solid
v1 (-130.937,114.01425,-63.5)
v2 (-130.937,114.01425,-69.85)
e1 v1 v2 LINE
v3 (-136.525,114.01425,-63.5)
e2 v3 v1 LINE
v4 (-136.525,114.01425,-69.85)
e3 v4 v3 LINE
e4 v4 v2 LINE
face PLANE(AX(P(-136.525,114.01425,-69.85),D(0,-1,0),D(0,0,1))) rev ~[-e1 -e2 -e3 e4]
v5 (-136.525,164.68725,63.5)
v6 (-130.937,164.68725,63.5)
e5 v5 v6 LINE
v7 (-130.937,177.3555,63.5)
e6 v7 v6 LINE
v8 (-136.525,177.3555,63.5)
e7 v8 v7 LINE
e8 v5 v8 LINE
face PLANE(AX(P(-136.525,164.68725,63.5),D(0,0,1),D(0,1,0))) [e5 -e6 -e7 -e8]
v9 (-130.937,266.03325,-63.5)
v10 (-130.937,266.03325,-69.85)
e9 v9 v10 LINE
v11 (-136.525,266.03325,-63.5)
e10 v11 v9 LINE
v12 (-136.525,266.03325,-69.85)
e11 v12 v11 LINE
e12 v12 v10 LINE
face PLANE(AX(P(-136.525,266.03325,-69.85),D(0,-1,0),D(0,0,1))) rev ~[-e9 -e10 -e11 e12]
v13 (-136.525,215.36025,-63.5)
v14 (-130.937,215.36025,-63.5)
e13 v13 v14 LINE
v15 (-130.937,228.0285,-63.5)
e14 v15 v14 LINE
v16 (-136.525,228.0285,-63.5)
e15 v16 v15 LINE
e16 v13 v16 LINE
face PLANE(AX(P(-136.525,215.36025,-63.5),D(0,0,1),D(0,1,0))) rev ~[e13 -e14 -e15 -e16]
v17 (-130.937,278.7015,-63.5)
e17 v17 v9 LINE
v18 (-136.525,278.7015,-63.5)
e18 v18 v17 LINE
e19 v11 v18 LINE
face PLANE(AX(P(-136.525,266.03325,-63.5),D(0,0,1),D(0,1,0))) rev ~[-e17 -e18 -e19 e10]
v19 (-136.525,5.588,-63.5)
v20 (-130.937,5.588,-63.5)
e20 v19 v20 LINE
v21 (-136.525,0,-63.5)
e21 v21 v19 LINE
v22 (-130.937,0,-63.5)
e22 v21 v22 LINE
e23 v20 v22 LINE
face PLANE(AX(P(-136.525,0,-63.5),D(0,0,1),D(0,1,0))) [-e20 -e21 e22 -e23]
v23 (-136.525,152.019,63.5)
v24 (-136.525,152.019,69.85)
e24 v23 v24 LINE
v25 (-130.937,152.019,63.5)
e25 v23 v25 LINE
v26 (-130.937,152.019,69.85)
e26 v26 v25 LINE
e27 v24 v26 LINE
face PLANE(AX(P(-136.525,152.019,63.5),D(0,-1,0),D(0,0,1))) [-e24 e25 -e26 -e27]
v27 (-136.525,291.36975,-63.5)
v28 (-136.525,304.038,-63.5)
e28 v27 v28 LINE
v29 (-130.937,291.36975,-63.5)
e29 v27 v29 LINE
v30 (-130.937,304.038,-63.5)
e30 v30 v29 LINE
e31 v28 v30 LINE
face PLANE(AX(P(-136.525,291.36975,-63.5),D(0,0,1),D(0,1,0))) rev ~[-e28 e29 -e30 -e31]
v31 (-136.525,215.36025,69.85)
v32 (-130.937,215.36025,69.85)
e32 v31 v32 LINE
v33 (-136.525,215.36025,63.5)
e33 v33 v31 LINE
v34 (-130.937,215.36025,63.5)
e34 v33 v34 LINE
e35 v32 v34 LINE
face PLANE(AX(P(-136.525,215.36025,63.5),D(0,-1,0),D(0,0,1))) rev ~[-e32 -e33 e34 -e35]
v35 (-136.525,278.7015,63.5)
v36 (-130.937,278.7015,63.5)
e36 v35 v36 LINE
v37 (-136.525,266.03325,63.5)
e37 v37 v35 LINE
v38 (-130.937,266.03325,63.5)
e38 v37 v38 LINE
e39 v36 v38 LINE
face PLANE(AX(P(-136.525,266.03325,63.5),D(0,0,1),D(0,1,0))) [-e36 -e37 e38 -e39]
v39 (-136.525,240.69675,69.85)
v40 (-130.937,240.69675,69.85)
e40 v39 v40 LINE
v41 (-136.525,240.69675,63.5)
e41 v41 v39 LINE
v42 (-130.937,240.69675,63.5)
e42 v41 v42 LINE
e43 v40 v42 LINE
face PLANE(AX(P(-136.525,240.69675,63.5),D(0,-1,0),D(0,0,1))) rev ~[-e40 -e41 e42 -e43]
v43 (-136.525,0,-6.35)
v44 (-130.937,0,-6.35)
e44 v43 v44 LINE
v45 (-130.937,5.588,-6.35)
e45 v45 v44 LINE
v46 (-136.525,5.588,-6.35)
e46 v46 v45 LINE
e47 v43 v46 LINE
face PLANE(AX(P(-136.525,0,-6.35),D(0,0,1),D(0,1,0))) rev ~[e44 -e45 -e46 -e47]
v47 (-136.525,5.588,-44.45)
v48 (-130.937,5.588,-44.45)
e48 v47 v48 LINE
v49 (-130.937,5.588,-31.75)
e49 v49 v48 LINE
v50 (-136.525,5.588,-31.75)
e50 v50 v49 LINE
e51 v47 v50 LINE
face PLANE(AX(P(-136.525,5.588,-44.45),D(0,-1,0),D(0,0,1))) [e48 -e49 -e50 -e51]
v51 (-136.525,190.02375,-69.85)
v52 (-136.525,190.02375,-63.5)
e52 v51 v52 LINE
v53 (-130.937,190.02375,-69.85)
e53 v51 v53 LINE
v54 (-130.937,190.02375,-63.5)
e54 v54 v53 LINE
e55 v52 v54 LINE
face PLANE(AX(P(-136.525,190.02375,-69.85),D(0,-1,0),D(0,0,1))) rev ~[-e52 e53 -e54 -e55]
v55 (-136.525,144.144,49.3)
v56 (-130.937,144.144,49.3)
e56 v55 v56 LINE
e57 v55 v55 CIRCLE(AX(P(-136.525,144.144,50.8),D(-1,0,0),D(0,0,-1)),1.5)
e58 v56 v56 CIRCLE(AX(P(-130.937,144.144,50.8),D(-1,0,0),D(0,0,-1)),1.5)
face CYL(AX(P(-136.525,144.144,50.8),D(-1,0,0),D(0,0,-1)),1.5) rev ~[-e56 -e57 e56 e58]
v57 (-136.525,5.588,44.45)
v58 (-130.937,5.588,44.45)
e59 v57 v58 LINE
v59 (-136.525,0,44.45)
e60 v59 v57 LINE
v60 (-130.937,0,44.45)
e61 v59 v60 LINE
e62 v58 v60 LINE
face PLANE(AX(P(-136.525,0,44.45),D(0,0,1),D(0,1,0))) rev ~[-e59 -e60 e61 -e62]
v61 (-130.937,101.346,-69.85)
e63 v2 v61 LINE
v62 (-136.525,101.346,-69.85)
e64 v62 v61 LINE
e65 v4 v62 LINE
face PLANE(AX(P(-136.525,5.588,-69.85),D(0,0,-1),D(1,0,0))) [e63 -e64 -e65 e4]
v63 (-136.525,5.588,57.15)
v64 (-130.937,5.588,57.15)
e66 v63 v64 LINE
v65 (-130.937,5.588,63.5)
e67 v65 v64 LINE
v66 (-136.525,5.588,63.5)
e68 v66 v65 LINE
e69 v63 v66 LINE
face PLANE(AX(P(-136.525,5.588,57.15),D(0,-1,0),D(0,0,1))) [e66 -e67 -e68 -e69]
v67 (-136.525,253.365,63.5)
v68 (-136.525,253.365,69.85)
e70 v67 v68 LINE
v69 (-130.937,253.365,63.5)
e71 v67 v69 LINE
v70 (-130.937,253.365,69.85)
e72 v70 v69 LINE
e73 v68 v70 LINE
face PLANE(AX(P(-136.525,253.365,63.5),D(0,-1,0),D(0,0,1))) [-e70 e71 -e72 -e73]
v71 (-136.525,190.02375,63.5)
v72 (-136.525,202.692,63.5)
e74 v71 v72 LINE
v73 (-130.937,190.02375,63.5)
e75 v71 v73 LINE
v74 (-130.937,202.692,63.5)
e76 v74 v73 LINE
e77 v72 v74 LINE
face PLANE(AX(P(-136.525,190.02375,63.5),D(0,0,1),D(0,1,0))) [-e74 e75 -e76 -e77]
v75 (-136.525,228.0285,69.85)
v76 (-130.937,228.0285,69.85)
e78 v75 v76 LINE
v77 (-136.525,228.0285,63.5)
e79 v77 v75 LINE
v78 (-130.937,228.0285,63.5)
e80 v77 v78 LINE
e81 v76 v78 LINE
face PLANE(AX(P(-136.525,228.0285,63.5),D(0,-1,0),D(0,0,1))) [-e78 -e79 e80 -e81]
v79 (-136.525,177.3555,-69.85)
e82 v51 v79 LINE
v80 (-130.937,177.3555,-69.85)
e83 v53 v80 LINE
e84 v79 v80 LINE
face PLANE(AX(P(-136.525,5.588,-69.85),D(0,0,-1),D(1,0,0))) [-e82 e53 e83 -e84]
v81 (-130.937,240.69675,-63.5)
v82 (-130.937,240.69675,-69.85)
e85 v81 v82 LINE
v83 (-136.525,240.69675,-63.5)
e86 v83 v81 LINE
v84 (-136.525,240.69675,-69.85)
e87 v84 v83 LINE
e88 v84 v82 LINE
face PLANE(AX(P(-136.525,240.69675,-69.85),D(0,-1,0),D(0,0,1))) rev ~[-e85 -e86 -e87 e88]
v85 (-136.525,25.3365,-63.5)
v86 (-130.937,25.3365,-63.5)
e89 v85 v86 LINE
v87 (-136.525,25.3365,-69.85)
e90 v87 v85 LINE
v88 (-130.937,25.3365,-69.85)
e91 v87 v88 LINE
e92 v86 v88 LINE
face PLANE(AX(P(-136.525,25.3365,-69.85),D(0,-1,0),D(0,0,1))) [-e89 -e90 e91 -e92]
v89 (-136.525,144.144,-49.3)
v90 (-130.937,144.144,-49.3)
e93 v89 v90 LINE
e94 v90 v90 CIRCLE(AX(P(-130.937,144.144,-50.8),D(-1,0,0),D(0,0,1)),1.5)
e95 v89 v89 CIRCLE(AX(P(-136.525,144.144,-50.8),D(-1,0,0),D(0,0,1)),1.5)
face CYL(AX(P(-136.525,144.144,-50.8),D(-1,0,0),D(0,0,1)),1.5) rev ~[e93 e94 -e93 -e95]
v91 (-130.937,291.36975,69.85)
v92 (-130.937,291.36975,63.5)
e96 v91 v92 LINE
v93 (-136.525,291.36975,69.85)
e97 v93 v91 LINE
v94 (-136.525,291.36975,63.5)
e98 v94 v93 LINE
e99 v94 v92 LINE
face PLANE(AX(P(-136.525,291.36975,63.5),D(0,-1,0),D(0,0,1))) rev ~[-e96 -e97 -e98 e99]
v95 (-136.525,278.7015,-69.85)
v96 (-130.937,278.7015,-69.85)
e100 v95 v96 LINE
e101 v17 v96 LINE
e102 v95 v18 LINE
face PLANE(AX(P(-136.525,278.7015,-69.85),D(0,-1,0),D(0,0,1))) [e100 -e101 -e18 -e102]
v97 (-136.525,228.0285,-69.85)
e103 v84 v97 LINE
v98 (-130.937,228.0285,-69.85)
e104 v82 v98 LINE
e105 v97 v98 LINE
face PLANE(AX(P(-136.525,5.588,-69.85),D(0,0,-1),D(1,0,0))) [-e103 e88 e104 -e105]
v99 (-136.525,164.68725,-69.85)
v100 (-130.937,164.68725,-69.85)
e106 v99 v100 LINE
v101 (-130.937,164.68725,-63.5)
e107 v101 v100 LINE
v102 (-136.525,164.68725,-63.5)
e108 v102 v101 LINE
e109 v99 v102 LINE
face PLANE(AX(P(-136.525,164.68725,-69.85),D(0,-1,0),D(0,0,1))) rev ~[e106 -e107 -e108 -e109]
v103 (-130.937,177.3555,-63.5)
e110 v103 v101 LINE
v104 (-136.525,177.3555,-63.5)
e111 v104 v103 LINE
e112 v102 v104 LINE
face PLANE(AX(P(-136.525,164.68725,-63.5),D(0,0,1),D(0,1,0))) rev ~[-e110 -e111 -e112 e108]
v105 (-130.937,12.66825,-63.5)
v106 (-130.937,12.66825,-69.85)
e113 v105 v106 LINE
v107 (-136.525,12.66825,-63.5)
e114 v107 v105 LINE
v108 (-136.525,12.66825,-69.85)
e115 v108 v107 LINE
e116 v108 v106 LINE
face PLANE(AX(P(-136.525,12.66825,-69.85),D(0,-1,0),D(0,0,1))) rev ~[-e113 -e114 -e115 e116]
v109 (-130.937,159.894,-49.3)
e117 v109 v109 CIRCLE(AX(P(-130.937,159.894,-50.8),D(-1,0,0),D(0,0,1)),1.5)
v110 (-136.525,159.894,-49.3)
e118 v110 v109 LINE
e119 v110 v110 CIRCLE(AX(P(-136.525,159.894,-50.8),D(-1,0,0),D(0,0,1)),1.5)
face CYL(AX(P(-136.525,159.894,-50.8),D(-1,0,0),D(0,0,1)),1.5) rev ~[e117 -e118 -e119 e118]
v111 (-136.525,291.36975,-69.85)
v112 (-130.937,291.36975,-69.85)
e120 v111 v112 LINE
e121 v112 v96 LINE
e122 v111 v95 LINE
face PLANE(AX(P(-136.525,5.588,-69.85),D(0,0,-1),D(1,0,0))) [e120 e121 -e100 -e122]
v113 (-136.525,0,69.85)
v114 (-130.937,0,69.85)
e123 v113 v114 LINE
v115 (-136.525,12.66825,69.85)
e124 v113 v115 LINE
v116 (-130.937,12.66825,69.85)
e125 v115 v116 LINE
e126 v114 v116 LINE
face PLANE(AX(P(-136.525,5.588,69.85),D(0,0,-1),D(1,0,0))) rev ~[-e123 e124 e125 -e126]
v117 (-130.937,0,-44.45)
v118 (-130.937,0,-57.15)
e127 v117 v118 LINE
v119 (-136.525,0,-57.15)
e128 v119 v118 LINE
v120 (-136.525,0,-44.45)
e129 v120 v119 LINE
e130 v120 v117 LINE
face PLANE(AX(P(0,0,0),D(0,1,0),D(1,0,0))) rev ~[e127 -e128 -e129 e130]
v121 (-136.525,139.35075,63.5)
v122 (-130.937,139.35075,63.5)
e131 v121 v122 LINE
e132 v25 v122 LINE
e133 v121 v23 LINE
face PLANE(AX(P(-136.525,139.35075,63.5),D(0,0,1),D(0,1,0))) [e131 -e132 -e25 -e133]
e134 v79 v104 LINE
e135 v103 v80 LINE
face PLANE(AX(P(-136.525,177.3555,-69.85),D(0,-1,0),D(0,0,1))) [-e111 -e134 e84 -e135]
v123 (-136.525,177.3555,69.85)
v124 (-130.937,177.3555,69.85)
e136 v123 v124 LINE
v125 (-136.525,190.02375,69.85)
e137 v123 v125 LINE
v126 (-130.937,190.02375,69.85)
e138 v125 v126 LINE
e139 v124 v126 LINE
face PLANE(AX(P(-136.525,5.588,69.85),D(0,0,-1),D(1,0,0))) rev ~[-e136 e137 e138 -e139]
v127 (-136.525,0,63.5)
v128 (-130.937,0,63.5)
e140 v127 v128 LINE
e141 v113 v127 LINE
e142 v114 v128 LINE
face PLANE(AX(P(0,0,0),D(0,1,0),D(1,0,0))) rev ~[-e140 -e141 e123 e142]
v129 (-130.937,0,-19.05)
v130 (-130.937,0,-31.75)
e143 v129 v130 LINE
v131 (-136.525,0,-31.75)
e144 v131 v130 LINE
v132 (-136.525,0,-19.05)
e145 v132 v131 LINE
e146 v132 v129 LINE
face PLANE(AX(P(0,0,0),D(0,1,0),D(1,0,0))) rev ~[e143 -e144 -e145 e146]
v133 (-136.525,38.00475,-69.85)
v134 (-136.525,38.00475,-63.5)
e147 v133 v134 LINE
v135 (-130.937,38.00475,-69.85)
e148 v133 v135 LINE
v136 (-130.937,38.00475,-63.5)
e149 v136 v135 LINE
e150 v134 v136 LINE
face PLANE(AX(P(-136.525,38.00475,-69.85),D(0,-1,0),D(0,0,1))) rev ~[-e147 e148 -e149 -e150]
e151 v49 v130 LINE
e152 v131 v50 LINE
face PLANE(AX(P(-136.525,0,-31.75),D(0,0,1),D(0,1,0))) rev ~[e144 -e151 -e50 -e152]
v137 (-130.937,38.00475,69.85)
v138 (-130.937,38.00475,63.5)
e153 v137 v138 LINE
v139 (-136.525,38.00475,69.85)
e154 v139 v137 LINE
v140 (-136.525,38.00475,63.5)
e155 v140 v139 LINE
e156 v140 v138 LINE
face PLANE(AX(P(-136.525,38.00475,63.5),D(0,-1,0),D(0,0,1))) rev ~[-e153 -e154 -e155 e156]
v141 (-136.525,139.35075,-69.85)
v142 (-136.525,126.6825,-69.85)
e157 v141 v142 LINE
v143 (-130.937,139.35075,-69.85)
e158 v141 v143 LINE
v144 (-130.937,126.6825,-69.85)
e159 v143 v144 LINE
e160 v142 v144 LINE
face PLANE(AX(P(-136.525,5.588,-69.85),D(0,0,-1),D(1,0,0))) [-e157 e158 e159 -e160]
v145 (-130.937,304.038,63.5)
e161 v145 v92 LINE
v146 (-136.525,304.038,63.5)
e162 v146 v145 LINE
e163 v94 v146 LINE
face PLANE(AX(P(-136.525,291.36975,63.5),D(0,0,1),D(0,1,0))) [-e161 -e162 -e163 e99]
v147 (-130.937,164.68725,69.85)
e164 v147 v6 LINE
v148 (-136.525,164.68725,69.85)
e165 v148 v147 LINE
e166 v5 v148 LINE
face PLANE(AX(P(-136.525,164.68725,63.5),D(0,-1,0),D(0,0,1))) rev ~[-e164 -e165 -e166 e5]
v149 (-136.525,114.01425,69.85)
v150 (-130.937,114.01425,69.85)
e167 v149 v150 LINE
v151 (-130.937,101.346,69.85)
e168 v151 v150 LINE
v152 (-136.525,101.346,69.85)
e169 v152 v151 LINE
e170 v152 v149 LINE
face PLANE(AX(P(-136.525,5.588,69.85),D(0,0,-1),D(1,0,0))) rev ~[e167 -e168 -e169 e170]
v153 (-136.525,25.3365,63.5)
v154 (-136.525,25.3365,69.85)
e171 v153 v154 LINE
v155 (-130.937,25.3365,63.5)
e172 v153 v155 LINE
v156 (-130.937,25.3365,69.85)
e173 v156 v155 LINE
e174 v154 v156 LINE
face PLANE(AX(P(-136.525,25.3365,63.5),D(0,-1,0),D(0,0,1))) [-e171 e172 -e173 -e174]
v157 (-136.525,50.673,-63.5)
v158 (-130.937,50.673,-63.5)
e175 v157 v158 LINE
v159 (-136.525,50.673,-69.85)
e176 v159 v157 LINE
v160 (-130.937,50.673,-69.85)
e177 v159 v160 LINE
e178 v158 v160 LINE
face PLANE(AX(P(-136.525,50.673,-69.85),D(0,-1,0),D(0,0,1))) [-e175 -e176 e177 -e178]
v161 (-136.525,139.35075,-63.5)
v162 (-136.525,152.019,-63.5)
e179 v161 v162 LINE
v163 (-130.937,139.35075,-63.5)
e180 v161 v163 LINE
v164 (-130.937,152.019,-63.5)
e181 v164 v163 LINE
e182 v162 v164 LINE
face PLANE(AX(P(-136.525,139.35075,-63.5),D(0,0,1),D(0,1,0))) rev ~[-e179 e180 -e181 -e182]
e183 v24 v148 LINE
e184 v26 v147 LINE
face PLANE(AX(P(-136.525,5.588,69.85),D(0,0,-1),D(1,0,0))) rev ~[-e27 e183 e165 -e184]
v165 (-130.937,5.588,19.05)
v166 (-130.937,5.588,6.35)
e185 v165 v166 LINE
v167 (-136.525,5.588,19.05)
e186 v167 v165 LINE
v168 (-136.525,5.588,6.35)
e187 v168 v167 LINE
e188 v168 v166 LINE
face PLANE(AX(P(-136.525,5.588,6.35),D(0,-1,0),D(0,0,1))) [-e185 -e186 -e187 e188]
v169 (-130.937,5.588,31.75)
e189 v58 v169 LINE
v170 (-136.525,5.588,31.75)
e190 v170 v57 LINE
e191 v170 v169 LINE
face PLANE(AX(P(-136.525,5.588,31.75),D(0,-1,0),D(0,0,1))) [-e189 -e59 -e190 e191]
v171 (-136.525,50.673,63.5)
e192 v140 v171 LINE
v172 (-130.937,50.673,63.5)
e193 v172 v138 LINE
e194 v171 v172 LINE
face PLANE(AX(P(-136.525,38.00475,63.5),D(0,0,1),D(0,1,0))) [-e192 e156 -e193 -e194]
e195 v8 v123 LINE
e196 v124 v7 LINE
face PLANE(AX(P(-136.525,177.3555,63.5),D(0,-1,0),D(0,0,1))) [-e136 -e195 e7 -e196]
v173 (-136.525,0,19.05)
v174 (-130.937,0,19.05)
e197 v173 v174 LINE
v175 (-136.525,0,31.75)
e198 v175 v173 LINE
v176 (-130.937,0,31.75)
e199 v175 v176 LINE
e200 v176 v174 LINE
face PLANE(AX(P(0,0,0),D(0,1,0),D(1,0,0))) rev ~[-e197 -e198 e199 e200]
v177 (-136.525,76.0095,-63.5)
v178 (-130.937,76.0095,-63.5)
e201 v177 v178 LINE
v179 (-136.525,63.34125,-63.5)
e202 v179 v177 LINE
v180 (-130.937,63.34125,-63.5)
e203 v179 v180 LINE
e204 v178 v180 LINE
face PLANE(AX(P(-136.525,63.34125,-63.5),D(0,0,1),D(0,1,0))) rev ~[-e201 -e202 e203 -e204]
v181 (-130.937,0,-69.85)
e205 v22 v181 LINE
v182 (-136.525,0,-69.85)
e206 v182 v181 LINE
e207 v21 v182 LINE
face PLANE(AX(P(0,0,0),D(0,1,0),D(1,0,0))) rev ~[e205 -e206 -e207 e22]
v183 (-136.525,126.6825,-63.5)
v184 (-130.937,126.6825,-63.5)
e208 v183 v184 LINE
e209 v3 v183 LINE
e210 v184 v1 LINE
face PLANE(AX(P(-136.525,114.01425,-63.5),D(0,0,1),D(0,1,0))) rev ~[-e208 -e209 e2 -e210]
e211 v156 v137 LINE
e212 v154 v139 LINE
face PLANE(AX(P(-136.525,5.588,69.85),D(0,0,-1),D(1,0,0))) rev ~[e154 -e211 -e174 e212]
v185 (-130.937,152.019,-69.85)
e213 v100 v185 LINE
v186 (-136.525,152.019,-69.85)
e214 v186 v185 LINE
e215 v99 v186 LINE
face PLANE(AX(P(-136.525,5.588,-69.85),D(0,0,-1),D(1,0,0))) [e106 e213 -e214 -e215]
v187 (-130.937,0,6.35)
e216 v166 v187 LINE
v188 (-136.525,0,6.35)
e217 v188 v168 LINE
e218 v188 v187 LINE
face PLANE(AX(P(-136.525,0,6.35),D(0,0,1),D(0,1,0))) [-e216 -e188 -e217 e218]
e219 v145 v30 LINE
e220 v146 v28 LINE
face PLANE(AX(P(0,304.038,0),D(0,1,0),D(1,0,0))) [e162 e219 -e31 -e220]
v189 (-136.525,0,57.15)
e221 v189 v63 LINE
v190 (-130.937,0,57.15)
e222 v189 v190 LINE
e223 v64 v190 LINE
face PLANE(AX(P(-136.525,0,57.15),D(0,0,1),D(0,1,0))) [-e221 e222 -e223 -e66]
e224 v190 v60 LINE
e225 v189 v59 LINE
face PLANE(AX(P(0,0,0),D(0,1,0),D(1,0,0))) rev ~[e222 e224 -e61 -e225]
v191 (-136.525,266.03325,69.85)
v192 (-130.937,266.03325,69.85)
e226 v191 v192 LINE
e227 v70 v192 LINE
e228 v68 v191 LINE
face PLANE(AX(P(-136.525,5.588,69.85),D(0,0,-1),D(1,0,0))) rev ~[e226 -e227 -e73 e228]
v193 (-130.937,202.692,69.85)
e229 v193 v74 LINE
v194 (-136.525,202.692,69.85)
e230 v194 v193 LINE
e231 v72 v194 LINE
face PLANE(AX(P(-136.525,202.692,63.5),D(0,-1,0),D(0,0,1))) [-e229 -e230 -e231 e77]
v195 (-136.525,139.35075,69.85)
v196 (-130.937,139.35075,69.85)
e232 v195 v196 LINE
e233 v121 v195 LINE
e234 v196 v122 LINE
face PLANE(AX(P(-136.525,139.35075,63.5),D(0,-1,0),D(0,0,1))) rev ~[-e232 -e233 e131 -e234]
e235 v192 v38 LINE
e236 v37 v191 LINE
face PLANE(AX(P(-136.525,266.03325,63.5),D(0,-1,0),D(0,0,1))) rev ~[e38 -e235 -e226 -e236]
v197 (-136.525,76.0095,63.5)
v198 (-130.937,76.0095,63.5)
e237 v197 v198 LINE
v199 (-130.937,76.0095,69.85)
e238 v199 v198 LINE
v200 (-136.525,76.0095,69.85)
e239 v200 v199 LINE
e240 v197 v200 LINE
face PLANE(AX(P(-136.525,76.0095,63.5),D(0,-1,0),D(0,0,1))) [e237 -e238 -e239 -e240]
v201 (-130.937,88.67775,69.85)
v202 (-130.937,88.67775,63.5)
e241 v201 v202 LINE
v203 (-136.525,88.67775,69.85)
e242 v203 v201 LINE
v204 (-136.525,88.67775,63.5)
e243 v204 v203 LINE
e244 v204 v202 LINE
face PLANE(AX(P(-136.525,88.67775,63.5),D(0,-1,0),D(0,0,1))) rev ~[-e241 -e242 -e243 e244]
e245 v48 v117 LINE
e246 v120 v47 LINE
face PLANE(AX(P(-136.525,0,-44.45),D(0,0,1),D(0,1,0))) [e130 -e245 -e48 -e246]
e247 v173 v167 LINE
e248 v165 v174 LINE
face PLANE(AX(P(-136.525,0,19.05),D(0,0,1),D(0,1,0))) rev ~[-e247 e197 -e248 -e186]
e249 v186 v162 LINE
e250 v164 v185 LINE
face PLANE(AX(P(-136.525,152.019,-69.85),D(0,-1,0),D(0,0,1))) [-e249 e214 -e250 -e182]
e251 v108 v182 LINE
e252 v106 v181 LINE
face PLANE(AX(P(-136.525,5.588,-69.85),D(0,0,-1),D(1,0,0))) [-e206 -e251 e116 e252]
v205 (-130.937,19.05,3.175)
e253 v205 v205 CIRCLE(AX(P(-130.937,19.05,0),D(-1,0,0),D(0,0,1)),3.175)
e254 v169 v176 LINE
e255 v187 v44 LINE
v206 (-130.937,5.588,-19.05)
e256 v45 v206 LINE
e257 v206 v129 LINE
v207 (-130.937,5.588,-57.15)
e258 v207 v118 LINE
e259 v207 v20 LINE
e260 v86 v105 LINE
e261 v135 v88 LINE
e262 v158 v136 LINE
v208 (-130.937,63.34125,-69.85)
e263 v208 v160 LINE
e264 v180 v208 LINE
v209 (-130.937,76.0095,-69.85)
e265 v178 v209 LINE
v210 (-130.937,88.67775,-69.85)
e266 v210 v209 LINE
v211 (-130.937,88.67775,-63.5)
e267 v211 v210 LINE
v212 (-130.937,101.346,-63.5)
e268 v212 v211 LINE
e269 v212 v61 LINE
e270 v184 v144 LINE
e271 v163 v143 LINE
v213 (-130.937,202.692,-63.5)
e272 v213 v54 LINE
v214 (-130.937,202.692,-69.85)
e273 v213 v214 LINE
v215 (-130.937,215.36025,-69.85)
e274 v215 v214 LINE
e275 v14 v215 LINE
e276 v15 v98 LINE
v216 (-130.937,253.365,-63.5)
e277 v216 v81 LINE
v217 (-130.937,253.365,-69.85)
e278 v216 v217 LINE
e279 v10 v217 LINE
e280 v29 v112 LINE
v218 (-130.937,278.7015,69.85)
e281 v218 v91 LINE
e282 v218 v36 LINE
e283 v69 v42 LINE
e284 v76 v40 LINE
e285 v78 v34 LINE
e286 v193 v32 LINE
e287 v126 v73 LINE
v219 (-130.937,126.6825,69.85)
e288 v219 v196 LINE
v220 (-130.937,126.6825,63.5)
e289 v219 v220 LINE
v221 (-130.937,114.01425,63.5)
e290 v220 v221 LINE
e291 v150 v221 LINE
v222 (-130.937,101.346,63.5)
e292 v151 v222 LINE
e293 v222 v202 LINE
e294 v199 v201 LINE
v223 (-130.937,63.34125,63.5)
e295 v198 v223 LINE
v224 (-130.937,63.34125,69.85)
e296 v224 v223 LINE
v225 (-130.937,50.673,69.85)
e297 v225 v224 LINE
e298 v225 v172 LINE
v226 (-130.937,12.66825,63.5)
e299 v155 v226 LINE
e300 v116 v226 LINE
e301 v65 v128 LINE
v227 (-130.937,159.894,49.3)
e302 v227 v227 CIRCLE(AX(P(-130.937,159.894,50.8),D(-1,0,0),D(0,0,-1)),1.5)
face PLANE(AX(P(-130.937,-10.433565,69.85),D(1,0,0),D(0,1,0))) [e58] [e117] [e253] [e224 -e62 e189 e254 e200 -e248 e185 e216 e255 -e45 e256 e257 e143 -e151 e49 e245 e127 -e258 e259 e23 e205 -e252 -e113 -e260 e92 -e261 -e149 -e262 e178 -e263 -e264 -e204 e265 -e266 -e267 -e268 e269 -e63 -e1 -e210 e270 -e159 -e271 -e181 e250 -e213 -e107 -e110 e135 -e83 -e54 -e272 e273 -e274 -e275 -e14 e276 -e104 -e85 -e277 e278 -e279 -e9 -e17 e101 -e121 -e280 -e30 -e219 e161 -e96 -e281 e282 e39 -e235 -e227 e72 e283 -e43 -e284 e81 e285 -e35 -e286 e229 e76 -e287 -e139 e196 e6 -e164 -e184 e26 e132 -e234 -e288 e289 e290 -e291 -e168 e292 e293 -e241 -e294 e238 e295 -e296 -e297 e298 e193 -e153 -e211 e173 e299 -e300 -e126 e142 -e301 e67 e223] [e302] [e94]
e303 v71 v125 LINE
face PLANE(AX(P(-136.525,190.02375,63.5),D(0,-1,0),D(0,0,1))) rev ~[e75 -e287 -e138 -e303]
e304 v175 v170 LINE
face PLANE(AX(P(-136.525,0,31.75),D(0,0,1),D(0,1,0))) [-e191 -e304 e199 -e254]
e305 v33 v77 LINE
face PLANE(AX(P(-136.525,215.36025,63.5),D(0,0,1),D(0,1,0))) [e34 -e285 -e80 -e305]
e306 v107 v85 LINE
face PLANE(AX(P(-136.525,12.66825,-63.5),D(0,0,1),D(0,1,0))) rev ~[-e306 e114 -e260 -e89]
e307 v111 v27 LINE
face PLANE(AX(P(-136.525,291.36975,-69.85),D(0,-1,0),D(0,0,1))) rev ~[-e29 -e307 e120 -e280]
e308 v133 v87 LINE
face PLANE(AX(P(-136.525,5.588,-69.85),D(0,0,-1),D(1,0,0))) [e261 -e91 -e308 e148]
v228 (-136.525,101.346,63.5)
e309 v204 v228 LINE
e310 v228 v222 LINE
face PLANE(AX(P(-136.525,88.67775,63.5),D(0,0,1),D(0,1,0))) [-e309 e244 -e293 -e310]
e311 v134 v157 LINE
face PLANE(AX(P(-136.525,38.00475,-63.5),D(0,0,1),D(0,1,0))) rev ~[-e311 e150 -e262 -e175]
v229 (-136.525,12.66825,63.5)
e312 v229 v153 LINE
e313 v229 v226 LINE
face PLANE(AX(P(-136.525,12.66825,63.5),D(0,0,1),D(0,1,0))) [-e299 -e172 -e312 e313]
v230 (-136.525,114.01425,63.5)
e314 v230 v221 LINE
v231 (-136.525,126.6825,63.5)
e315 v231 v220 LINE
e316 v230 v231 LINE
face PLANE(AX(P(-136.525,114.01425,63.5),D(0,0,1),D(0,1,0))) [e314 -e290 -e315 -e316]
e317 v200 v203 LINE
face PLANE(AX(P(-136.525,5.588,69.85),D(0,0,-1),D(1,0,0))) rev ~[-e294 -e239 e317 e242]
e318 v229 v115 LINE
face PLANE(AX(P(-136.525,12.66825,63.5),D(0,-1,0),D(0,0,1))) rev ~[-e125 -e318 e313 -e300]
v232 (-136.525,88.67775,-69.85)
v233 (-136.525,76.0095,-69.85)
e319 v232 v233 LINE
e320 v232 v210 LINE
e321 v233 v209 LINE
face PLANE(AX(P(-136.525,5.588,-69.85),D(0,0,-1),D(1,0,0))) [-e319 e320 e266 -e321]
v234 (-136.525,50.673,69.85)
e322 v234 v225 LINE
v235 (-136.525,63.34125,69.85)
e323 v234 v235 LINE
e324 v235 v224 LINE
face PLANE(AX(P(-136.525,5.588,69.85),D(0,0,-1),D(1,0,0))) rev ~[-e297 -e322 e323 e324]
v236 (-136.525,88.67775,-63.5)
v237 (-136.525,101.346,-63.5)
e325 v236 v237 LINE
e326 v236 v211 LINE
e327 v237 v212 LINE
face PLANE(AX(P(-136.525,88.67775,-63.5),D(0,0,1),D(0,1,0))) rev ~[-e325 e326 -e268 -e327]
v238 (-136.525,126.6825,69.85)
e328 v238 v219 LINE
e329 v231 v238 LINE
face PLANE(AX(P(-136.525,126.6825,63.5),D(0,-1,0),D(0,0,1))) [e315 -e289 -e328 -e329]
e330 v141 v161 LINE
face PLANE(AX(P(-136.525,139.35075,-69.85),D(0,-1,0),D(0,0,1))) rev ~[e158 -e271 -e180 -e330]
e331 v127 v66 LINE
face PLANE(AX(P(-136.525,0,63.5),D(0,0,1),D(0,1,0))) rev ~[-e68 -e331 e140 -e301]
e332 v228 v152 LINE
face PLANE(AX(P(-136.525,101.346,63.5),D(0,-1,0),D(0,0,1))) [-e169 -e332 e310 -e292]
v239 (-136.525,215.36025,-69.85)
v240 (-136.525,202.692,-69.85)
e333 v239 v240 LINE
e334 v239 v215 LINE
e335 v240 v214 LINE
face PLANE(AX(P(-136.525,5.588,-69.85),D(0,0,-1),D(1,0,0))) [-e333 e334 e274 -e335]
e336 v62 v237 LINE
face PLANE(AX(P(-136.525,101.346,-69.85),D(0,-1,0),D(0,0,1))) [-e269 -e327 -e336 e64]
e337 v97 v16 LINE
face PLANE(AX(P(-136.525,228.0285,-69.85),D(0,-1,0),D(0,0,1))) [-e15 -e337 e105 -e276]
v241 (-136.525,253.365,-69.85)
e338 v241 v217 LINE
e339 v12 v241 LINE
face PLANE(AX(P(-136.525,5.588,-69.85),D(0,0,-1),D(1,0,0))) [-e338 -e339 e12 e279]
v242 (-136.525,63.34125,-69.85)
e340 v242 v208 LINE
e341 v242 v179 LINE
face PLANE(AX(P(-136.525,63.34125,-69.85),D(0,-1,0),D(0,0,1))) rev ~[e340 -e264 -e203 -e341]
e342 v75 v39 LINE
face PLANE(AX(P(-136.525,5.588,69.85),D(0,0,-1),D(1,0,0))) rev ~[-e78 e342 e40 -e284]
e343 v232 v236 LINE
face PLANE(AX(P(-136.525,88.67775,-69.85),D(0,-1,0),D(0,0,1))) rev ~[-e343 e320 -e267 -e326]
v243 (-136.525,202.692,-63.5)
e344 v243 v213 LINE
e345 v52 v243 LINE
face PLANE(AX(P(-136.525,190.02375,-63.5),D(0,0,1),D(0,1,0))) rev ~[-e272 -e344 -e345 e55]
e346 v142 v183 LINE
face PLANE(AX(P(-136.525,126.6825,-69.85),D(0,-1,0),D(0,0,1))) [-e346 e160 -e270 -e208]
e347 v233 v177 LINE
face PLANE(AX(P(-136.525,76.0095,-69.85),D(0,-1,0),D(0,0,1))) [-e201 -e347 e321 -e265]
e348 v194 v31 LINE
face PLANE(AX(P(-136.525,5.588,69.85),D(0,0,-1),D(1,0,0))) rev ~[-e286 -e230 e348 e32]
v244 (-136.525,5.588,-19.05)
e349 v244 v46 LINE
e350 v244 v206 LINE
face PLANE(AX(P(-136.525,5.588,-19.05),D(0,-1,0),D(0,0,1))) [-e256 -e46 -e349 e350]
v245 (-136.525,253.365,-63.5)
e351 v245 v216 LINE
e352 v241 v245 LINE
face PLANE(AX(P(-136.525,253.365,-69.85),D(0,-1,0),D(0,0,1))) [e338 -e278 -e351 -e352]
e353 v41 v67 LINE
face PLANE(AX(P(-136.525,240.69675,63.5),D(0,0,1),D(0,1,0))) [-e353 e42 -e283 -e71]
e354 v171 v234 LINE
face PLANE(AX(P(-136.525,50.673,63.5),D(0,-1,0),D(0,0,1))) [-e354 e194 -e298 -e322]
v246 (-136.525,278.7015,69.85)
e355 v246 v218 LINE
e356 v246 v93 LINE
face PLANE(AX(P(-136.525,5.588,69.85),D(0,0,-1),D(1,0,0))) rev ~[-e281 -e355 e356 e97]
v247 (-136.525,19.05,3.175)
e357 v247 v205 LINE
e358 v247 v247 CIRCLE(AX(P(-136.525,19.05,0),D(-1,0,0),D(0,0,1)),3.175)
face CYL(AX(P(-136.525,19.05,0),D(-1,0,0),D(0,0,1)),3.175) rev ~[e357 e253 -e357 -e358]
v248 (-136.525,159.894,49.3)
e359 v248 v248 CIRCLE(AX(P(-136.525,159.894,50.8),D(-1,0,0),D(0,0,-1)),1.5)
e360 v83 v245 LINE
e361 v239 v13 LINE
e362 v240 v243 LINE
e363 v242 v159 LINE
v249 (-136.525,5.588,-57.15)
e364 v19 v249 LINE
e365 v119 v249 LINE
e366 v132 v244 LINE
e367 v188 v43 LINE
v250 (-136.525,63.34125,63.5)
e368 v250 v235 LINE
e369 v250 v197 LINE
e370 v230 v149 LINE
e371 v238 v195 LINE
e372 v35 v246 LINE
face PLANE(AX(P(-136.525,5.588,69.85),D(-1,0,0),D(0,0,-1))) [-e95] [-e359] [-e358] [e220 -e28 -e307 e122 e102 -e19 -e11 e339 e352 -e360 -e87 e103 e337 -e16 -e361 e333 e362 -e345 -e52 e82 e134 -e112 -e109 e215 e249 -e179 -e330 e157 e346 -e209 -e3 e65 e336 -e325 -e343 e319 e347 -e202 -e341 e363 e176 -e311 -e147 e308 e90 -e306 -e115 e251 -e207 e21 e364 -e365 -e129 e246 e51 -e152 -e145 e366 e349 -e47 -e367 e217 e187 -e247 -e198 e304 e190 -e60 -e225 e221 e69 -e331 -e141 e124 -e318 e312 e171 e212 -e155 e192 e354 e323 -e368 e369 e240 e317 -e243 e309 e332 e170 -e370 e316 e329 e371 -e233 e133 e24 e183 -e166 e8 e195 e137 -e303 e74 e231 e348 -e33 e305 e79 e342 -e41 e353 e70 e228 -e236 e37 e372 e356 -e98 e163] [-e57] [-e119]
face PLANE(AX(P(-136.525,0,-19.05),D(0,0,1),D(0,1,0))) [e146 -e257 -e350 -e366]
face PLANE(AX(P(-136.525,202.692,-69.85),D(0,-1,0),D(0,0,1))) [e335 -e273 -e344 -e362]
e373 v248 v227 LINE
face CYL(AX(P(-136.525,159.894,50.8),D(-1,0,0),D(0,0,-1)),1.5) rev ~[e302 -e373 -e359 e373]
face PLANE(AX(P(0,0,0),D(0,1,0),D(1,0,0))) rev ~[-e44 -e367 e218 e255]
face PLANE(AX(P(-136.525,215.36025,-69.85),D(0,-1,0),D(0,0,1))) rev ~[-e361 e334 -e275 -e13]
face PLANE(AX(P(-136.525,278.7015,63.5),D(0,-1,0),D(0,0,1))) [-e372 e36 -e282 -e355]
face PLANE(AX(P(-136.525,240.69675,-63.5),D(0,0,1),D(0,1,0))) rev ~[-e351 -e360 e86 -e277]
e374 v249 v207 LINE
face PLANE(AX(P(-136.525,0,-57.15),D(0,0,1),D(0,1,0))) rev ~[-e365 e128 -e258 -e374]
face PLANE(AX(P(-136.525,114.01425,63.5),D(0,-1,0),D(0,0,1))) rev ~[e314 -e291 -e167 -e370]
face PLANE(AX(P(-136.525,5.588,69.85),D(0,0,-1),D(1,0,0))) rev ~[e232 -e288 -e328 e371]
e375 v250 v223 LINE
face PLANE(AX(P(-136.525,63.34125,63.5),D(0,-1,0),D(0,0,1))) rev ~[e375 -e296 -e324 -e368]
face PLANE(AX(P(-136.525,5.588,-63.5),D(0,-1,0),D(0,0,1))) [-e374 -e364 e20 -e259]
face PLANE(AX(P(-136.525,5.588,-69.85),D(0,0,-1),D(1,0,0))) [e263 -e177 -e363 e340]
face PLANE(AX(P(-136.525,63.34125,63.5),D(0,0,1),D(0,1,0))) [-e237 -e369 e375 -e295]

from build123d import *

# Parameters (mm, degrees)
SKETCH1_W              = 273.05
SKETCH1_H              = 139.7
BOSS_EXTRUDE1_DEPTH    = 5.588
SKETCH2_W              = 273.05
SKETCH2_H              = 139.7
SKETCH2_W_2            = 261.874
SKETCH2_H_2            = 128.524
BOSS_EXTRUDE2_DEPTH    = 298.45
SKETCH3_W              = 6.35
SKETCH3_H              = 16.933333333
SKETCH3_H_2            = 16.933333334
DOOR_SLOT_DEPTH        = 12.7
DOOR_GUIDE_HOLES_REACH = 361.255
SKETCH4_W              = 6.35
SKETCH4_H              = 15.875
LEVER_HOLES_W          = 9.652
LEVER_HOLES_H          = 6.35
LEVER_HOLES_W_2        = 6.35
CUT_EXTRUDE1_DEPTH     = 362.378293578
CUT_EXTRUDE2_REACH     = 416.577
SKETCH7_R              = 26.9875
CUT_EXTRUDE3_REACH     = 416.577
SKETCH8_R              = 3.175
SKETCH8_R_2            = 1.5
SKETCH16_W             = 336.893526087
SKETCH16_H             = 314.471565403
CUT_EXTRUDE10_DEPTH    = 362.378293578
LEFT_RIGHT_W           = 6.35
LEFT_RIGHT_H           = 5.588
LEFT_RIGHT_W_2         = 12.7
LEFT_RIGHT_H_2         = 12.66825
CUT_EXTRUDE11_DEPTH    = 313.00857951


with BuildPart() as part:
    # Sketch1 → Boss-Extrude1 (new body)
    with BuildSketch(Plane(origin=(0, 0, 0), x_dir=(1, 0, 0), z_dir=(0, 1, 0))):
        Rectangle(SKETCH1_W, SKETCH1_H)
    extrude(amount=BOSS_EXTRUDE1_DEPTH)

    # Sketch2 → Boss-Extrude2 (add)
    with BuildSketch(Plane(origin=(0, 5.588, 0), x_dir=(1, 0, 0), z_dir=(0, 1, 0))):
        Rectangle(SKETCH2_W, SKETCH2_H)
        Rectangle(SKETCH2_W_2, SKETCH2_H_2, mode=Mode.SUBTRACT)
    extrude(amount=BOSS_EXTRUDE2_DEPTH)

    # Sketch3 → Door Slot (cut)
    with BuildSketch(Plane.XY.offset(69.85)):
        with BuildLine():
            Line((-29.337, 282.448), (-29.337, 5.588))
            Line((-29.337, 5.588), (-22.733, 5.588))
            Line((-22.733, 5.588), (-22.733, 291.592))
            Line((-22.733, 291.592), (-42.291, 291.592))
            Line((-42.291, 291.592), (-42.291, 284.988))
            Line((-42.291, 284.988), (-31.877, 284.988))
            ThreePointArc((-31.877, 284.988), (-30.080948776, 284.244051224), (-29.337, 282.448))
        make_face()
        with Locations((-13.208, 80.433333334)):
            Rectangle(SKETCH3_W, SKETCH3_H)
        with Locations((-13.208, 50.8)):
            Rectangle(SKETCH3_W, SKETCH3_H_2)
        with Locations((-13.208, 21.166666667)):
            Rectangle(SKETCH3_W, SKETCH3_H)
    extrude(amount=-DOOR_SLOT_DEPTH, mode=Mode.SUBTRACT)

    # Sketch4 → Door Guide Holes (cut, up to next)
    with BuildSketch(Plane.XY.offset(-64.262), mode=Mode.PRIVATE) as door_guide_holes_sk1:
        with Locations((-45.466, 283.4005)):
            Rectangle(SKETCH4_W, SKETCH4_H)
    door_guide_holes_tool1 = extrude(door_guide_holes_sk1.sketch, amount=-DOOR_GUIDE_HOLES_REACH, mode=Mode.PRIVATE) & part.part
    # Sketch4 → Door Guide Holes (cut, up to next)
    with BuildSketch(Plane.XY.offset(-64.262), mode=Mode.PRIVATE) as door_guide_holes_sk2:
        with Locations((-45.466, 254.8255)):
            Rectangle(SKETCH4_W, SKETCH4_H)
    door_guide_holes_tool2 = extrude(door_guide_holes_sk2.sketch, amount=-DOOR_GUIDE_HOLES_REACH, mode=Mode.PRIVATE) & part.part
    # Sketch4 → Door Guide Holes (cut, up to next)
    with BuildSketch(Plane.XY.offset(-64.262), mode=Mode.PRIVATE) as door_guide_holes_sk3:
        with Locations((-45.466, 226.2505)):
            Rectangle(SKETCH4_W, SKETCH4_H)
    door_guide_holes_tool3 = extrude(door_guide_holes_sk3.sketch, amount=-DOOR_GUIDE_HOLES_REACH, mode=Mode.PRIVATE) & part.part
    # Sketch4 → Door Guide Holes (cut, up to next)
    with BuildSketch(Plane.XY.offset(-64.262), mode=Mode.PRIVATE) as door_guide_holes_sk4:
        with Locations((-45.466, 197.6755)):
            Rectangle(SKETCH4_W, SKETCH4_H)
    door_guide_holes_tool4 = extrude(door_guide_holes_sk4.sketch, amount=-DOOR_GUIDE_HOLES_REACH, mode=Mode.PRIVATE) & part.part
    # Sketch4 → Door Guide Holes (cut, up to next)
    with BuildSketch(Plane.XY.offset(-64.262), mode=Mode.PRIVATE) as door_guide_holes_sk5:
        with Locations((-45.466, 169.1005)):
            Rectangle(SKETCH4_W, SKETCH4_H)
    door_guide_holes_tool5 = extrude(door_guide_holes_sk5.sketch, amount=-DOOR_GUIDE_HOLES_REACH, mode=Mode.PRIVATE) & part.part
    # Sketch4 → Door Guide Holes (cut, up to next)
    with BuildSketch(Plane.XY.offset(-64.262), mode=Mode.PRIVATE) as door_guide_holes_sk6:
        with Locations((-45.466, 140.5255)):
            Rectangle(SKETCH4_W, SKETCH4_H)
    door_guide_holes_tool6 = extrude(door_guide_holes_sk6.sketch, amount=-DOOR_GUIDE_HOLES_REACH, mode=Mode.PRIVATE) & part.part
    # Sketch4 → Door Guide Holes (cut, up to next)
    with BuildSketch(Plane.XY.offset(-64.262), mode=Mode.PRIVATE) as door_guide_holes_sk7:
        with Locations((-45.466, 111.9505)):
            Rectangle(SKETCH4_W, SKETCH4_H)
    door_guide_holes_tool7 = extrude(door_guide_holes_sk7.sketch, amount=-DOOR_GUIDE_HOLES_REACH, mode=Mode.PRIVATE) & part.part
    # Sketch4 → Door Guide Holes (cut, up to next)
    with BuildSketch(Plane.XY.offset(-64.262), mode=Mode.PRIVATE) as door_guide_holes_sk8:
        with Locations((-45.466, 83.3755)):
            Rectangle(SKETCH4_W, SKETCH4_H)
    door_guide_holes_tool8 = extrude(door_guide_holes_sk8.sketch, amount=-DOOR_GUIDE_HOLES_REACH, mode=Mode.PRIVATE) & part.part
    # Sketch4 → Door Guide Holes (cut, up to next)
    with BuildSketch(Plane.XY.offset(-64.262), mode=Mode.PRIVATE) as door_guide_holes_sk9:
        with Locations((-45.466, 54.8005)):
            Rectangle(SKETCH4_W, SKETCH4_H)
    door_guide_holes_tool9 = extrude(door_guide_holes_sk9.sketch, amount=-DOOR_GUIDE_HOLES_REACH, mode=Mode.PRIVATE) & part.part
    # Sketch4 → Door Guide Holes (cut, up to next)
    with BuildSketch(Plane.XY.offset(-64.262), mode=Mode.PRIVATE) as door_guide_holes_sk10:
        with Locations((-45.466, 26.2255)):
            Rectangle(SKETCH4_W, SKETCH4_H)
    door_guide_holes_tool10 = extrude(door_guide_holes_sk10.sketch, amount=-DOOR_GUIDE_HOLES_REACH, mode=Mode.PRIVATE) & part.part
    door_guide_holes_1 = door_guide_holes_tool1.solids().sort_by_distance((-45.466, 283.4005, -64.262))[0]
    add(door_guide_holes_1, mode=Mode.SUBTRACT)
    door_guide_holes_2 = door_guide_holes_tool2.solids().sort_by_distance((-45.466, 254.8255, -64.262))[0]
    add(door_guide_holes_2, mode=Mode.SUBTRACT)
    door_guide_holes_3 = door_guide_holes_tool3.solids().sort_by_distance((-45.466, 226.2505, -64.262))[0]
    add(door_guide_holes_3, mode=Mode.SUBTRACT)
    door_guide_holes_4 = door_guide_holes_tool4.solids().sort_by_distance((-45.466, 197.6755, -64.262))[0]
    add(door_guide_holes_4, mode=Mode.SUBTRACT)
    door_guide_holes_5 = door_guide_holes_tool5.solids().sort_by_distance((-45.466, 169.1005, -64.262))[0]
    add(door_guide_holes_5, mode=Mode.SUBTRACT)
    door_guide_holes_6 = door_guide_holes_tool6.solids().sort_by_distance((-45.466, 140.5255, -64.262))[0]
    add(door_guide_holes_6, mode=Mode.SUBTRACT)
    door_guide_holes_7 = door_guide_holes_tool7.solids().sort_by_distance((-45.466, 111.9505, -64.262))[0]
    add(door_guide_holes_7, mode=Mode.SUBTRACT)
    door_guide_holes_8 = door_guide_holes_tool8.solids().sort_by_distance((-45.466, 83.3755, -64.262))[0]
    add(door_guide_holes_8, mode=Mode.SUBTRACT)
    door_guide_holes_9 = door_guide_holes_tool9.solids().sort_by_distance((-45.466, 54.8005, -64.262))[0]
    add(door_guide_holes_9, mode=Mode.SUBTRACT)
    door_guide_holes_10 = door_guide_holes_tool10.solids().sort_by_distance((-45.466, 26.2255, -64.262))[0]
    add(door_guide_holes_10, mode=Mode.SUBTRACT)
    door_guide_holes = door_guide_holes_1 + door_guide_holes_2 + door_guide_holes_3 + door_guide_holes_4 + door_guide_holes_5 + door_guide_holes_6 + door_guide_holes_7 + door_guide_holes_8 + door_guide_holes_9 + door_guide_holes_10  # Door Guide Holes as one shape, for the pattern or mirror that repeats it

    # Mirror1: Door Guide Holes across plane
    add(door_guide_holes.mirror(Plane.ZY.offset(32.512)), mode=Mode.SUBTRACT)

    # Lever Holes → Cut-Extrude1 (cut, through all)
    with BuildSketch(Plane.XY.offset(69.85)):
        with Locations((54.102, 28.575)):
            Rectangle(LEVER_HOLES_W, LEVER_HOLES_H)
        with Locations((39.3065, 15.875)):
            Rectangle(LEVER_HOLES_W_2, LEVER_HOLES_H)
        with Locations((68.8975, 15.875)):
            Rectangle(LEVER_HOLES_W_2, LEVER_HOLES_H)
    extrude(amount=-CUT_EXTRUDE1_DEPTH, mode=Mode.SUBTRACT)

    # Sketch7 → Cut-Extrude2 (cut, up to next)
    with BuildSketch(Plane(origin=(136.525, 0, 0), x_dir=(0, 0, -1), z_dir=(1, 0, 0)), mode=Mode.PRIVATE) as cut_extrude2_sk1:
        with Locations((0, 55.372)):
            Circle(SKETCH7_R)
    cut_extrude2_tool1 = extrude(cut_extrude2_sk1.sketch, amount=-CUT_EXTRUDE2_REACH, mode=Mode.PRIVATE) & part.part
    # Sketch7 → Cut-Extrude2 (cut, up to next)
    with BuildSketch(Plane(origin=(136.525, 0, 0), x_dir=(0, 0, -1), z_dir=(1, 0, 0)), mode=Mode.PRIVATE) as cut_extrude2_sk2:
        with BuildLine():
            Line((-37.211, 89.408), (-37.211, 92.583))
            Line((-37.211, 92.583), (-34.036, 92.583))
            ThreePointArc((-34.036, 92.583), (-39.45606403, 94.82806403), (-37.211, 89.408))
        make_face()
    cut_extrude2_tool2 = extrude(cut_extrude2_sk2.sketch, amount=-CUT_EXTRUDE2_REACH, mode=Mode.PRIVATE) & part.part
    # Sketch7 → Cut-Extrude2 (cut, up to next)
    with BuildSketch(Plane(origin=(136.525, 0, 0), x_dir=(0, 0, -1), z_dir=(1, 0, 0)), mode=Mode.PRIVATE) as cut_extrude2_sk3:
        with BuildLine():
            Line((-34.036, 92.583), (-37.211, 92.583))
            Line((-37.211, 92.583), (-37.211, 89.408))
            ThreePointArc((-37.211, 89.408), (-34.96593597, 90.33793597), (-34.036, 92.583))
        make_face()
    cut_extrude2_tool3 = extrude(cut_extrude2_sk3.sketch, amount=-CUT_EXTRUDE2_REACH, mode=Mode.PRIVATE) & part.part
    # Sketch7 → Cut-Extrude2 (cut, up to next)
    with BuildSketch(Plane(origin=(136.525, 0, 0), x_dir=(0, 0, -1), z_dir=(1, 0, 0)), mode=Mode.PRIVATE) as cut_extrude2_sk4:
        with BuildLine():
            Line((-37.211, 89.408), (-37.211, 92.583))
            Line((-37.211, 92.583), (-34.036, 92.583))
            ThreePointArc((-34.036, 92.583), (-39.45606403, 94.82806403), (-37.211, 89.408))
        make_face()
    cut_extrude2_tool4 = extrude(cut_extrude2_sk4.sketch, amount=-CUT_EXTRUDE2_REACH, mode=Mode.PRIVATE) & part.part
    # Sketch7 → Cut-Extrude2 (cut, up to next)
    with BuildSketch(Plane(origin=(136.525, 0, 0), x_dir=(0, 0, -1), z_dir=(1, 0, 0)), mode=Mode.PRIVATE) as cut_extrude2_sk5:
        with BuildLine():
            Line((-34.036, 92.583), (-37.211, 92.583))
            Line((-37.211, 92.583), (-37.211, 89.408))
            ThreePointArc((-37.211, 89.408), (-34.96593597, 90.33793597), (-34.036, 92.583))
        make_face()
    cut_extrude2_tool5 = extrude(cut_extrude2_sk5.sketch, amount=-CUT_EXTRUDE2_REACH, mode=Mode.PRIVATE) & part.part
    # Sketch7 → Cut-Extrude2 (cut, up to next)
    with BuildSketch(Plane(origin=(136.525, 0, 0), x_dir=(0, 0, -1), z_dir=(1, 0, 0)), mode=Mode.PRIVATE) as cut_extrude2_sk6:
        with BuildLine():
            ThreePointArc((40.386, 92.583), (37.211, 95.758), (34.036, 92.583))
            Line((34.036, 92.583), (37.211, 92.583))
            Line((37.211, 92.583), (37.211, 89.408))
            ThreePointArc((37.211, 89.408), (39.45606403, 90.33793597), (40.386, 92.583))
        make_face()
    cut_extrude2_tool6 = extrude(cut_extrude2_sk6.sketch, amount=-CUT_EXTRUDE2_REACH, mode=Mode.PRIVATE) & part.part
    # Sketch7 → Cut-Extrude2 (cut, up to next)
    with BuildSketch(Plane(origin=(136.525, 0, 0), x_dir=(0, 0, -1), z_dir=(1, 0, 0)), mode=Mode.PRIVATE) as cut_extrude2_sk7:
        with BuildLine():
            Line((37.211, 92.583), (34.036, 92.583))
            ThreePointArc((34.036, 92.583), (34.96593597, 90.33793597), (37.211, 89.408))
            Line((37.211, 89.408), (37.211, 92.583))
        make_face()
    cut_extrude2_tool7 = extrude(cut_extrude2_sk7.sketch, amount=-CUT_EXTRUDE2_REACH, mode=Mode.PRIVATE) & part.part
    # Sketch7 → Cut-Extrude2 (cut, up to next)
    with BuildSketch(Plane(origin=(136.525, 0, 0), x_dir=(0, 0, -1), z_dir=(1, 0, 0)), mode=Mode.PRIVATE) as cut_extrude2_sk8:
        with BuildLine():
            ThreePointArc((40.386, 92.583), (37.211, 95.758), (34.036, 92.583))
            Line((34.036, 92.583), (37.211, 92.583))
            Line((37.211, 92.583), (37.211, 89.408))
            ThreePointArc((37.211, 89.408), (39.45606403, 90.33793597), (40.386, 92.583))
        make_face()
    cut_extrude2_tool8 = extrude(cut_extrude2_sk8.sketch, amount=-CUT_EXTRUDE2_REACH, mode=Mode.PRIVATE) & part.part
    # Sketch7 → Cut-Extrude2 (cut, up to next)
    with BuildSketch(Plane(origin=(136.525, 0, 0), x_dir=(0, 0, -1), z_dir=(1, 0, 0)), mode=Mode.PRIVATE) as cut_extrude2_sk9:
        with BuildLine():
            Line((37.211, 92.583), (34.036, 92.583))
            ThreePointArc((34.036, 92.583), (34.96593597, 90.33793597), (37.211, 89.408))
            Line((37.211, 89.408), (37.211, 92.583))
        make_face()
    cut_extrude2_tool9 = extrude(cut_extrude2_sk9.sketch, amount=-CUT_EXTRUDE2_REACH, mode=Mode.PRIVATE) & part.part
    # Sketch7 → Cut-Extrude2 (cut, up to next)
    with BuildSketch(Plane(origin=(136.525, 0, 0), x_dir=(0, 0, -1), z_dir=(1, 0, 0)), mode=Mode.PRIVATE) as cut_extrude2_sk10:
        with BuildLine():
            ThreePointArc((-34.036, 18.161), (-34.96593597, 20.40606403), (-37.211, 21.336))
            Line((-37.211, 21.336), (-37.211, 18.161))
            Line((-37.211, 18.161), (-34.036, 18.161))
        make_face()
    cut_extrude2_tool10 = extrude(cut_extrude2_sk10.sketch, amount=-CUT_EXTRUDE2_REACH, mode=Mode.PRIVATE) & part.part
    # Sketch7 → Cut-Extrude2 (cut, up to next)
    with BuildSketch(Plane(origin=(136.525, 0, 0), x_dir=(0, 0, -1), z_dir=(1, 0, 0)), mode=Mode.PRIVATE) as cut_extrude2_sk11:
        with BuildLine():
            Line((-37.211, 18.161), (-37.211, 21.336))
            ThreePointArc((-37.211, 21.336), (-39.45606403, 15.91593597), (-34.036, 18.161))
            Line((-34.036, 18.161), (-37.211, 18.161))
        make_face()
    cut_extrude2_tool11 = extrude(cut_extrude2_sk11.sketch, amount=-CUT_EXTRUDE2_REACH, mode=Mode.PRIVATE) & part.part
    # Sketch7 → Cut-Extrude2 (cut, up to next)
    with BuildSketch(Plane(origin=(136.525, 0, 0), x_dir=(0, 0, -1), z_dir=(1, 0, 0)), mode=Mode.PRIVATE) as cut_extrude2_sk12:
        with BuildLine():
            ThreePointArc((-34.036, 18.161), (-34.96593597, 20.40606403), (-37.211, 21.336))
            Line((-37.211, 21.336), (-37.211, 18.161))
            Line((-37.211, 18.161), (-34.036, 18.161))
        make_face()
    cut_extrude2_tool12 = extrude(cut_extrude2_sk12.sketch, amount=-CUT_EXTRUDE2_REACH, mode=Mode.PRIVATE) & part.part
    # Sketch7 → Cut-Extrude2 (cut, up to next)
    with BuildSketch(Plane(origin=(136.525, 0, 0), x_dir=(0, 0, -1), z_dir=(1, 0, 0)), mode=Mode.PRIVATE) as cut_extrude2_sk13:
        with BuildLine():
            Line((-37.211, 18.161), (-37.211, 21.336))
            ThreePointArc((-37.211, 21.336), (-39.45606403, 15.91593597), (-34.036, 18.161))
            Line((-34.036, 18.161), (-37.211, 18.161))
        make_face()
    cut_extrude2_tool13 = extrude(cut_extrude2_sk13.sketch, amount=-CUT_EXTRUDE2_REACH, mode=Mode.PRIVATE) & part.part
    # Sketch7 → Cut-Extrude2 (cut, up to next)
    with BuildSketch(Plane(origin=(136.525, 0, 0), x_dir=(0, 0, -1), z_dir=(1, 0, 0)), mode=Mode.PRIVATE) as cut_extrude2_sk14:
        with BuildLine():
            ThreePointArc((40.386, 18.161), (39.45606403, 20.40606403), (37.211, 21.336))
            Line((37.211, 21.336), (37.211, 18.161))
            Line((37.211, 18.161), (34.036, 18.161))
            ThreePointArc((34.036, 18.161), (37.211, 14.986), (40.386, 18.161))
        make_face()
    cut_extrude2_tool14 = extrude(cut_extrude2_sk14.sketch, amount=-CUT_EXTRUDE2_REACH, mode=Mode.PRIVATE) & part.part
    # Sketch7 → Cut-Extrude2 (cut, up to next)
    with BuildSketch(Plane(origin=(136.525, 0, 0), x_dir=(0, 0, -1), z_dir=(1, 0, 0)), mode=Mode.PRIVATE) as cut_extrude2_sk15:
        with BuildLine():
            Line((37.211, 18.161), (37.211, 21.336))
            ThreePointArc((37.211, 21.336), (34.96593597, 20.40606403), (34.036, 18.161))
            Line((34.036, 18.161), (37.211, 18.161))
        make_face()
    cut_extrude2_tool15 = extrude(cut_extrude2_sk15.sketch, amount=-CUT_EXTRUDE2_REACH, mode=Mode.PRIVATE) & part.part
    # Sketch7 → Cut-Extrude2 (cut, up to next)
    with BuildSketch(Plane(origin=(136.525, 0, 0), x_dir=(0, 0, -1), z_dir=(1, 0, 0)), mode=Mode.PRIVATE) as cut_extrude2_sk16:
        with BuildLine():
            ThreePointArc((40.386, 18.161), (39.45606403, 20.40606403), (37.211, 21.336))
            Line((37.211, 21.336), (37.211, 18.161))
            Line((37.211, 18.161), (34.036, 18.161))
            ThreePointArc((34.036, 18.161), (37.211, 14.986), (40.386, 18.161))
        make_face()
    cut_extrude2_tool16 = extrude(cut_extrude2_sk16.sketch, amount=-CUT_EXTRUDE2_REACH, mode=Mode.PRIVATE) & part.part
    # Sketch7 → Cut-Extrude2 (cut, up to next)
    with BuildSketch(Plane(origin=(136.525, 0, 0), x_dir=(0, 0, -1), z_dir=(1, 0, 0)), mode=Mode.PRIVATE) as cut_extrude2_sk17:
        with BuildLine():
            Line((37.211, 18.161), (37.211, 21.336))
            ThreePointArc((37.211, 21.336), (34.96593597, 20.40606403), (34.036, 18.161))
            Line((34.036, 18.161), (37.211, 18.161))
        make_face()
    cut_extrude2_tool17 = extrude(cut_extrude2_sk17.sketch, amount=-CUT_EXTRUDE2_REACH, mode=Mode.PRIVATE) & part.part
    add(cut_extrude2_tool1.solids().sort_by_distance((136.525, 55.372, 0))[0], mode=Mode.SUBTRACT)
    add(cut_extrude2_tool2.solids().sort_by_distance((136.525, 93.032171, 37.660171))[0], mode=Mode.SUBTRACT)
    add(cut_extrude2_tool3.solids().sort_by_distance((136.525, 91.235488, 35.863488))[0], mode=Mode.SUBTRACT)
    add(cut_extrude2_tool4.solids().sort_by_distance((136.525, 93.032171, 37.660171))[0], mode=Mode.SUBTRACT)
    add(cut_extrude2_tool5.solids().sort_by_distance((136.525, 91.235488, 35.863488))[0], mode=Mode.SUBTRACT)
    add(cut_extrude2_tool6.solids().sort_by_distance((136.525, 93.032171, -37.660171))[0], mode=Mode.SUBTRACT)
    add(cut_extrude2_tool7.solids().sort_by_distance((136.525, 91.235488, -35.863488))[0], mode=Mode.SUBTRACT)
    add(cut_extrude2_tool8.solids().sort_by_distance((136.525, 93.032171, -37.660171))[0], mode=Mode.SUBTRACT)
    add(cut_extrude2_tool9.solids().sort_by_distance((136.525, 91.235488, -35.863488))[0], mode=Mode.SUBTRACT)
    add(cut_extrude2_tool10.solids().sort_by_distance((136.525, 19.508512, 35.863488))[0], mode=Mode.SUBTRACT)
    add(cut_extrude2_tool11.solids().sort_by_distance((136.525, 17.711829, 37.660171))[0], mode=Mode.SUBTRACT)
    add(cut_extrude2_tool12.solids().sort_by_distance((136.525, 19.508512, 35.863488))[0], mode=Mode.SUBTRACT)
    add(cut_extrude2_tool13.solids().sort_by_distance((136.525, 17.711829, 37.660171))[0], mode=Mode.SUBTRACT)
    add(cut_extrude2_tool14.solids().sort_by_distance((136.525, 17.711829, -37.660171))[0], mode=Mode.SUBTRACT)
    add(cut_extrude2_tool15.solids().sort_by_distance((136.525, 19.508512, -35.863488))[0], mode=Mode.SUBTRACT)
    add(cut_extrude2_tool16.solids().sort_by_distance((136.525, 17.711829, -37.660171))[0], mode=Mode.SUBTRACT)
    add(cut_extrude2_tool17.solids().sort_by_distance((136.525, 19.508512, -35.863488))[0], mode=Mode.SUBTRACT)

    # Sketch8 → Cut-Extrude3 (cut, up to next)
    with BuildSketch(Plane.ZY.offset(136.525), mode=Mode.PRIVATE) as cut_extrude3_sk1:
        with Locations((0, 19.05)):
            Circle(SKETCH8_R)
    cut_extrude3_tool1 = extrude(cut_extrude3_sk1.sketch, amount=-CUT_EXTRUDE3_REACH, mode=Mode.PRIVATE) & part.part
    # Sketch8 → Cut-Extrude3 (cut, up to next)
    with BuildSketch(Plane.ZY.offset(136.525), mode=Mode.PRIVATE) as cut_extrude3_sk2:
        with Locations((-50.8, 159.894)):
            Circle(SKETCH8_R_2)
    cut_extrude3_tool2 = extrude(cut_extrude3_sk2.sketch, amount=-CUT_EXTRUDE3_REACH, mode=Mode.PRIVATE) & part.part
    # Sketch8 → Cut-Extrude3 (cut, up to next)
    with BuildSketch(Plane.ZY.offset(136.525), mode=Mode.PRIVATE) as cut_extrude3_sk3:
        with Locations((-50.8, 144.144)):
            Circle(SKETCH8_R_2)
    cut_extrude3_tool3 = extrude(cut_extrude3_sk3.sketch, amount=-CUT_EXTRUDE3_REACH, mode=Mode.PRIVATE) & part.part
    # Sketch8 → Cut-Extrude3 (cut, up to next)
    with BuildSketch(Plane.ZY.offset(136.525), mode=Mode.PRIVATE) as cut_extrude3_sk4:
        with Locations(Location((50.8, 144.144, 0), (0, 0, 180))):
            Circle(SKETCH8_R_2)
    cut_extrude3_tool4 = extrude(cut_extrude3_sk4.sketch, amount=-CUT_EXTRUDE3_REACH, mode=Mode.PRIVATE) & part.part
    # Sketch8 → Cut-Extrude3 (cut, up to next)
    with BuildSketch(Plane.ZY.offset(136.525), mode=Mode.PRIVATE) as cut_extrude3_sk5:
        with Locations(Location((50.8, 159.894, 0), (0, 0, 180))):
            Circle(SKETCH8_R_2)
    cut_extrude3_tool5 = extrude(cut_extrude3_sk5.sketch, amount=-CUT_EXTRUDE3_REACH, mode=Mode.PRIVATE) & part.part
    add(cut_extrude3_tool1.solids().sort_by_distance((-136.525, 19.05, 0))[0], mode=Mode.SUBTRACT)
    add(cut_extrude3_tool2.solids().sort_by_distance((-136.525, 159.894, -50.8))[0], mode=Mode.SUBTRACT)
    add(cut_extrude3_tool3.solids().sort_by_distance((-136.525, 144.144, -50.8))[0], mode=Mode.SUBTRACT)
    add(cut_extrude3_tool4.solids().sort_by_distance((-136.525, 144.144, 50.8))[0], mode=Mode.SUBTRACT)
    add(cut_extrude3_tool5.solids().sort_by_distance((-136.525, 159.894, 50.8))[0], mode=Mode.SUBTRACT)

    # Sketch16 → Cut-Extrude10 (cut, through all)
    with BuildSketch(Plane.XY.offset(69.85)):
        with Locations((37.509763044, 146.802217299)):
            Rectangle(SKETCH16_W, SKETCH16_H)
    extrude(amount=-CUT_EXTRUDE10_DEPTH, mode=Mode.SUBTRACT)

    # Left/Right → Cut-Extrude11 (cut, through all)
    with BuildSketch(Plane.ZY.offset(136.525)):
        with Locations((60.325, 2.794)):
            Rectangle(LEFT_RIGHT_W, LEFT_RIGHT_H)
        with Locations((38.1, 2.794)):
            Rectangle(LEFT_RIGHT_W_2, LEFT_RIGHT_H)
        with Locations((66.675, 19.002375)):
            Rectangle(LEFT_RIGHT_W, LEFT_RIGHT_H_2)
        with Locations((12.7, 2.794)):
            Rectangle(LEFT_RIGHT_W_2, LEFT_RIGHT_H)
        with Locations((66.675, 44.338875)):
            Rectangle(LEFT_RIGHT_W, LEFT_RIGHT_H_2)
        with Locations((-12.7, 2.794)):
            Rectangle(LEFT_RIGHT_W_2, LEFT_RIGHT_H)
        with Locations((66.675, 69.675375)):
            Rectangle(LEFT_RIGHT_W, LEFT_RIGHT_H_2)
        with Locations((-38.1, 2.794)):
            Rectangle(LEFT_RIGHT_W_2, LEFT_RIGHT_H)
        with Locations((66.675, 95.011875)):
            Rectangle(LEFT_RIGHT_W, LEFT_RIGHT_H_2)
        with Locations((-60.325, 2.794)):
            Rectangle(LEFT_RIGHT_W, LEFT_RIGHT_H)
        with Locations((66.675, 120.348375)):
            Rectangle(LEFT_RIGHT_W, LEFT_RIGHT_H_2)
        with Locations((-66.675, 19.002375)):
            Rectangle(LEFT_RIGHT_W, LEFT_RIGHT_H_2)
        with Locations((66.675, 145.684875)):
            Rectangle(LEFT_RIGHT_W, LEFT_RIGHT_H_2)
        with Locations((-66.675, 44.338875)):
            Rectangle(LEFT_RIGHT_W, LEFT_RIGHT_H_2)
        with Locations((66.675, 171.021375)):
            Rectangle(LEFT_RIGHT_W, LEFT_RIGHT_H_2)
        with Locations((-66.675, 69.675375)):
            Rectangle(LEFT_RIGHT_W, LEFT_RIGHT_H_2)
        with Locations((66.675, 196.357875)):
            Rectangle(LEFT_RIGHT_W, LEFT_RIGHT_H_2)
        with Locations((-66.675, 95.011875)):
            Rectangle(LEFT_RIGHT_W, LEFT_RIGHT_H_2)
        with Locations((66.675, 221.694375)):
            Rectangle(LEFT_RIGHT_W, LEFT_RIGHT_H_2)
        with Locations((-66.675, 120.348375)):
            Rectangle(LEFT_RIGHT_W, LEFT_RIGHT_H_2)
        with Locations((66.675, 247.030875)):
            Rectangle(LEFT_RIGHT_W, LEFT_RIGHT_H_2)
        with Locations((-66.675, 145.684875)):
            Rectangle(LEFT_RIGHT_W, LEFT_RIGHT_H_2)
        with Locations((66.675, 272.367375)):
            Rectangle(LEFT_RIGHT_W, LEFT_RIGHT_H_2)
        with Locations((-66.675, 171.021375)):
            Rectangle(LEFT_RIGHT_W, LEFT_RIGHT_H_2)
        with Locations((66.675, 297.703875)):
            Rectangle(LEFT_RIGHT_W, LEFT_RIGHT_H_2)
        with Locations((-66.675, 196.357875)):
            Rectangle(LEFT_RIGHT_W, LEFT_RIGHT_H_2)
        with Locations((-66.675, 221.694375)):
            Rectangle(LEFT_RIGHT_W, LEFT_RIGHT_H_2)
        with Locations((-66.675, 247.030875)):
            Rectangle(LEFT_RIGHT_W, LEFT_RIGHT_H_2)
        with Locations((-66.675, 272.367375)):
            Rectangle(LEFT_RIGHT_W, LEFT_RIGHT_H_2)
        with Locations((-66.675, 297.703875)):
            Rectangle(LEFT_RIGHT_W, LEFT_RIGHT_H_2)
    extrude(amount=-CUT_EXTRUDE11_DEPTH, mode=Mode.SUBTRACT)


solid = part.part
